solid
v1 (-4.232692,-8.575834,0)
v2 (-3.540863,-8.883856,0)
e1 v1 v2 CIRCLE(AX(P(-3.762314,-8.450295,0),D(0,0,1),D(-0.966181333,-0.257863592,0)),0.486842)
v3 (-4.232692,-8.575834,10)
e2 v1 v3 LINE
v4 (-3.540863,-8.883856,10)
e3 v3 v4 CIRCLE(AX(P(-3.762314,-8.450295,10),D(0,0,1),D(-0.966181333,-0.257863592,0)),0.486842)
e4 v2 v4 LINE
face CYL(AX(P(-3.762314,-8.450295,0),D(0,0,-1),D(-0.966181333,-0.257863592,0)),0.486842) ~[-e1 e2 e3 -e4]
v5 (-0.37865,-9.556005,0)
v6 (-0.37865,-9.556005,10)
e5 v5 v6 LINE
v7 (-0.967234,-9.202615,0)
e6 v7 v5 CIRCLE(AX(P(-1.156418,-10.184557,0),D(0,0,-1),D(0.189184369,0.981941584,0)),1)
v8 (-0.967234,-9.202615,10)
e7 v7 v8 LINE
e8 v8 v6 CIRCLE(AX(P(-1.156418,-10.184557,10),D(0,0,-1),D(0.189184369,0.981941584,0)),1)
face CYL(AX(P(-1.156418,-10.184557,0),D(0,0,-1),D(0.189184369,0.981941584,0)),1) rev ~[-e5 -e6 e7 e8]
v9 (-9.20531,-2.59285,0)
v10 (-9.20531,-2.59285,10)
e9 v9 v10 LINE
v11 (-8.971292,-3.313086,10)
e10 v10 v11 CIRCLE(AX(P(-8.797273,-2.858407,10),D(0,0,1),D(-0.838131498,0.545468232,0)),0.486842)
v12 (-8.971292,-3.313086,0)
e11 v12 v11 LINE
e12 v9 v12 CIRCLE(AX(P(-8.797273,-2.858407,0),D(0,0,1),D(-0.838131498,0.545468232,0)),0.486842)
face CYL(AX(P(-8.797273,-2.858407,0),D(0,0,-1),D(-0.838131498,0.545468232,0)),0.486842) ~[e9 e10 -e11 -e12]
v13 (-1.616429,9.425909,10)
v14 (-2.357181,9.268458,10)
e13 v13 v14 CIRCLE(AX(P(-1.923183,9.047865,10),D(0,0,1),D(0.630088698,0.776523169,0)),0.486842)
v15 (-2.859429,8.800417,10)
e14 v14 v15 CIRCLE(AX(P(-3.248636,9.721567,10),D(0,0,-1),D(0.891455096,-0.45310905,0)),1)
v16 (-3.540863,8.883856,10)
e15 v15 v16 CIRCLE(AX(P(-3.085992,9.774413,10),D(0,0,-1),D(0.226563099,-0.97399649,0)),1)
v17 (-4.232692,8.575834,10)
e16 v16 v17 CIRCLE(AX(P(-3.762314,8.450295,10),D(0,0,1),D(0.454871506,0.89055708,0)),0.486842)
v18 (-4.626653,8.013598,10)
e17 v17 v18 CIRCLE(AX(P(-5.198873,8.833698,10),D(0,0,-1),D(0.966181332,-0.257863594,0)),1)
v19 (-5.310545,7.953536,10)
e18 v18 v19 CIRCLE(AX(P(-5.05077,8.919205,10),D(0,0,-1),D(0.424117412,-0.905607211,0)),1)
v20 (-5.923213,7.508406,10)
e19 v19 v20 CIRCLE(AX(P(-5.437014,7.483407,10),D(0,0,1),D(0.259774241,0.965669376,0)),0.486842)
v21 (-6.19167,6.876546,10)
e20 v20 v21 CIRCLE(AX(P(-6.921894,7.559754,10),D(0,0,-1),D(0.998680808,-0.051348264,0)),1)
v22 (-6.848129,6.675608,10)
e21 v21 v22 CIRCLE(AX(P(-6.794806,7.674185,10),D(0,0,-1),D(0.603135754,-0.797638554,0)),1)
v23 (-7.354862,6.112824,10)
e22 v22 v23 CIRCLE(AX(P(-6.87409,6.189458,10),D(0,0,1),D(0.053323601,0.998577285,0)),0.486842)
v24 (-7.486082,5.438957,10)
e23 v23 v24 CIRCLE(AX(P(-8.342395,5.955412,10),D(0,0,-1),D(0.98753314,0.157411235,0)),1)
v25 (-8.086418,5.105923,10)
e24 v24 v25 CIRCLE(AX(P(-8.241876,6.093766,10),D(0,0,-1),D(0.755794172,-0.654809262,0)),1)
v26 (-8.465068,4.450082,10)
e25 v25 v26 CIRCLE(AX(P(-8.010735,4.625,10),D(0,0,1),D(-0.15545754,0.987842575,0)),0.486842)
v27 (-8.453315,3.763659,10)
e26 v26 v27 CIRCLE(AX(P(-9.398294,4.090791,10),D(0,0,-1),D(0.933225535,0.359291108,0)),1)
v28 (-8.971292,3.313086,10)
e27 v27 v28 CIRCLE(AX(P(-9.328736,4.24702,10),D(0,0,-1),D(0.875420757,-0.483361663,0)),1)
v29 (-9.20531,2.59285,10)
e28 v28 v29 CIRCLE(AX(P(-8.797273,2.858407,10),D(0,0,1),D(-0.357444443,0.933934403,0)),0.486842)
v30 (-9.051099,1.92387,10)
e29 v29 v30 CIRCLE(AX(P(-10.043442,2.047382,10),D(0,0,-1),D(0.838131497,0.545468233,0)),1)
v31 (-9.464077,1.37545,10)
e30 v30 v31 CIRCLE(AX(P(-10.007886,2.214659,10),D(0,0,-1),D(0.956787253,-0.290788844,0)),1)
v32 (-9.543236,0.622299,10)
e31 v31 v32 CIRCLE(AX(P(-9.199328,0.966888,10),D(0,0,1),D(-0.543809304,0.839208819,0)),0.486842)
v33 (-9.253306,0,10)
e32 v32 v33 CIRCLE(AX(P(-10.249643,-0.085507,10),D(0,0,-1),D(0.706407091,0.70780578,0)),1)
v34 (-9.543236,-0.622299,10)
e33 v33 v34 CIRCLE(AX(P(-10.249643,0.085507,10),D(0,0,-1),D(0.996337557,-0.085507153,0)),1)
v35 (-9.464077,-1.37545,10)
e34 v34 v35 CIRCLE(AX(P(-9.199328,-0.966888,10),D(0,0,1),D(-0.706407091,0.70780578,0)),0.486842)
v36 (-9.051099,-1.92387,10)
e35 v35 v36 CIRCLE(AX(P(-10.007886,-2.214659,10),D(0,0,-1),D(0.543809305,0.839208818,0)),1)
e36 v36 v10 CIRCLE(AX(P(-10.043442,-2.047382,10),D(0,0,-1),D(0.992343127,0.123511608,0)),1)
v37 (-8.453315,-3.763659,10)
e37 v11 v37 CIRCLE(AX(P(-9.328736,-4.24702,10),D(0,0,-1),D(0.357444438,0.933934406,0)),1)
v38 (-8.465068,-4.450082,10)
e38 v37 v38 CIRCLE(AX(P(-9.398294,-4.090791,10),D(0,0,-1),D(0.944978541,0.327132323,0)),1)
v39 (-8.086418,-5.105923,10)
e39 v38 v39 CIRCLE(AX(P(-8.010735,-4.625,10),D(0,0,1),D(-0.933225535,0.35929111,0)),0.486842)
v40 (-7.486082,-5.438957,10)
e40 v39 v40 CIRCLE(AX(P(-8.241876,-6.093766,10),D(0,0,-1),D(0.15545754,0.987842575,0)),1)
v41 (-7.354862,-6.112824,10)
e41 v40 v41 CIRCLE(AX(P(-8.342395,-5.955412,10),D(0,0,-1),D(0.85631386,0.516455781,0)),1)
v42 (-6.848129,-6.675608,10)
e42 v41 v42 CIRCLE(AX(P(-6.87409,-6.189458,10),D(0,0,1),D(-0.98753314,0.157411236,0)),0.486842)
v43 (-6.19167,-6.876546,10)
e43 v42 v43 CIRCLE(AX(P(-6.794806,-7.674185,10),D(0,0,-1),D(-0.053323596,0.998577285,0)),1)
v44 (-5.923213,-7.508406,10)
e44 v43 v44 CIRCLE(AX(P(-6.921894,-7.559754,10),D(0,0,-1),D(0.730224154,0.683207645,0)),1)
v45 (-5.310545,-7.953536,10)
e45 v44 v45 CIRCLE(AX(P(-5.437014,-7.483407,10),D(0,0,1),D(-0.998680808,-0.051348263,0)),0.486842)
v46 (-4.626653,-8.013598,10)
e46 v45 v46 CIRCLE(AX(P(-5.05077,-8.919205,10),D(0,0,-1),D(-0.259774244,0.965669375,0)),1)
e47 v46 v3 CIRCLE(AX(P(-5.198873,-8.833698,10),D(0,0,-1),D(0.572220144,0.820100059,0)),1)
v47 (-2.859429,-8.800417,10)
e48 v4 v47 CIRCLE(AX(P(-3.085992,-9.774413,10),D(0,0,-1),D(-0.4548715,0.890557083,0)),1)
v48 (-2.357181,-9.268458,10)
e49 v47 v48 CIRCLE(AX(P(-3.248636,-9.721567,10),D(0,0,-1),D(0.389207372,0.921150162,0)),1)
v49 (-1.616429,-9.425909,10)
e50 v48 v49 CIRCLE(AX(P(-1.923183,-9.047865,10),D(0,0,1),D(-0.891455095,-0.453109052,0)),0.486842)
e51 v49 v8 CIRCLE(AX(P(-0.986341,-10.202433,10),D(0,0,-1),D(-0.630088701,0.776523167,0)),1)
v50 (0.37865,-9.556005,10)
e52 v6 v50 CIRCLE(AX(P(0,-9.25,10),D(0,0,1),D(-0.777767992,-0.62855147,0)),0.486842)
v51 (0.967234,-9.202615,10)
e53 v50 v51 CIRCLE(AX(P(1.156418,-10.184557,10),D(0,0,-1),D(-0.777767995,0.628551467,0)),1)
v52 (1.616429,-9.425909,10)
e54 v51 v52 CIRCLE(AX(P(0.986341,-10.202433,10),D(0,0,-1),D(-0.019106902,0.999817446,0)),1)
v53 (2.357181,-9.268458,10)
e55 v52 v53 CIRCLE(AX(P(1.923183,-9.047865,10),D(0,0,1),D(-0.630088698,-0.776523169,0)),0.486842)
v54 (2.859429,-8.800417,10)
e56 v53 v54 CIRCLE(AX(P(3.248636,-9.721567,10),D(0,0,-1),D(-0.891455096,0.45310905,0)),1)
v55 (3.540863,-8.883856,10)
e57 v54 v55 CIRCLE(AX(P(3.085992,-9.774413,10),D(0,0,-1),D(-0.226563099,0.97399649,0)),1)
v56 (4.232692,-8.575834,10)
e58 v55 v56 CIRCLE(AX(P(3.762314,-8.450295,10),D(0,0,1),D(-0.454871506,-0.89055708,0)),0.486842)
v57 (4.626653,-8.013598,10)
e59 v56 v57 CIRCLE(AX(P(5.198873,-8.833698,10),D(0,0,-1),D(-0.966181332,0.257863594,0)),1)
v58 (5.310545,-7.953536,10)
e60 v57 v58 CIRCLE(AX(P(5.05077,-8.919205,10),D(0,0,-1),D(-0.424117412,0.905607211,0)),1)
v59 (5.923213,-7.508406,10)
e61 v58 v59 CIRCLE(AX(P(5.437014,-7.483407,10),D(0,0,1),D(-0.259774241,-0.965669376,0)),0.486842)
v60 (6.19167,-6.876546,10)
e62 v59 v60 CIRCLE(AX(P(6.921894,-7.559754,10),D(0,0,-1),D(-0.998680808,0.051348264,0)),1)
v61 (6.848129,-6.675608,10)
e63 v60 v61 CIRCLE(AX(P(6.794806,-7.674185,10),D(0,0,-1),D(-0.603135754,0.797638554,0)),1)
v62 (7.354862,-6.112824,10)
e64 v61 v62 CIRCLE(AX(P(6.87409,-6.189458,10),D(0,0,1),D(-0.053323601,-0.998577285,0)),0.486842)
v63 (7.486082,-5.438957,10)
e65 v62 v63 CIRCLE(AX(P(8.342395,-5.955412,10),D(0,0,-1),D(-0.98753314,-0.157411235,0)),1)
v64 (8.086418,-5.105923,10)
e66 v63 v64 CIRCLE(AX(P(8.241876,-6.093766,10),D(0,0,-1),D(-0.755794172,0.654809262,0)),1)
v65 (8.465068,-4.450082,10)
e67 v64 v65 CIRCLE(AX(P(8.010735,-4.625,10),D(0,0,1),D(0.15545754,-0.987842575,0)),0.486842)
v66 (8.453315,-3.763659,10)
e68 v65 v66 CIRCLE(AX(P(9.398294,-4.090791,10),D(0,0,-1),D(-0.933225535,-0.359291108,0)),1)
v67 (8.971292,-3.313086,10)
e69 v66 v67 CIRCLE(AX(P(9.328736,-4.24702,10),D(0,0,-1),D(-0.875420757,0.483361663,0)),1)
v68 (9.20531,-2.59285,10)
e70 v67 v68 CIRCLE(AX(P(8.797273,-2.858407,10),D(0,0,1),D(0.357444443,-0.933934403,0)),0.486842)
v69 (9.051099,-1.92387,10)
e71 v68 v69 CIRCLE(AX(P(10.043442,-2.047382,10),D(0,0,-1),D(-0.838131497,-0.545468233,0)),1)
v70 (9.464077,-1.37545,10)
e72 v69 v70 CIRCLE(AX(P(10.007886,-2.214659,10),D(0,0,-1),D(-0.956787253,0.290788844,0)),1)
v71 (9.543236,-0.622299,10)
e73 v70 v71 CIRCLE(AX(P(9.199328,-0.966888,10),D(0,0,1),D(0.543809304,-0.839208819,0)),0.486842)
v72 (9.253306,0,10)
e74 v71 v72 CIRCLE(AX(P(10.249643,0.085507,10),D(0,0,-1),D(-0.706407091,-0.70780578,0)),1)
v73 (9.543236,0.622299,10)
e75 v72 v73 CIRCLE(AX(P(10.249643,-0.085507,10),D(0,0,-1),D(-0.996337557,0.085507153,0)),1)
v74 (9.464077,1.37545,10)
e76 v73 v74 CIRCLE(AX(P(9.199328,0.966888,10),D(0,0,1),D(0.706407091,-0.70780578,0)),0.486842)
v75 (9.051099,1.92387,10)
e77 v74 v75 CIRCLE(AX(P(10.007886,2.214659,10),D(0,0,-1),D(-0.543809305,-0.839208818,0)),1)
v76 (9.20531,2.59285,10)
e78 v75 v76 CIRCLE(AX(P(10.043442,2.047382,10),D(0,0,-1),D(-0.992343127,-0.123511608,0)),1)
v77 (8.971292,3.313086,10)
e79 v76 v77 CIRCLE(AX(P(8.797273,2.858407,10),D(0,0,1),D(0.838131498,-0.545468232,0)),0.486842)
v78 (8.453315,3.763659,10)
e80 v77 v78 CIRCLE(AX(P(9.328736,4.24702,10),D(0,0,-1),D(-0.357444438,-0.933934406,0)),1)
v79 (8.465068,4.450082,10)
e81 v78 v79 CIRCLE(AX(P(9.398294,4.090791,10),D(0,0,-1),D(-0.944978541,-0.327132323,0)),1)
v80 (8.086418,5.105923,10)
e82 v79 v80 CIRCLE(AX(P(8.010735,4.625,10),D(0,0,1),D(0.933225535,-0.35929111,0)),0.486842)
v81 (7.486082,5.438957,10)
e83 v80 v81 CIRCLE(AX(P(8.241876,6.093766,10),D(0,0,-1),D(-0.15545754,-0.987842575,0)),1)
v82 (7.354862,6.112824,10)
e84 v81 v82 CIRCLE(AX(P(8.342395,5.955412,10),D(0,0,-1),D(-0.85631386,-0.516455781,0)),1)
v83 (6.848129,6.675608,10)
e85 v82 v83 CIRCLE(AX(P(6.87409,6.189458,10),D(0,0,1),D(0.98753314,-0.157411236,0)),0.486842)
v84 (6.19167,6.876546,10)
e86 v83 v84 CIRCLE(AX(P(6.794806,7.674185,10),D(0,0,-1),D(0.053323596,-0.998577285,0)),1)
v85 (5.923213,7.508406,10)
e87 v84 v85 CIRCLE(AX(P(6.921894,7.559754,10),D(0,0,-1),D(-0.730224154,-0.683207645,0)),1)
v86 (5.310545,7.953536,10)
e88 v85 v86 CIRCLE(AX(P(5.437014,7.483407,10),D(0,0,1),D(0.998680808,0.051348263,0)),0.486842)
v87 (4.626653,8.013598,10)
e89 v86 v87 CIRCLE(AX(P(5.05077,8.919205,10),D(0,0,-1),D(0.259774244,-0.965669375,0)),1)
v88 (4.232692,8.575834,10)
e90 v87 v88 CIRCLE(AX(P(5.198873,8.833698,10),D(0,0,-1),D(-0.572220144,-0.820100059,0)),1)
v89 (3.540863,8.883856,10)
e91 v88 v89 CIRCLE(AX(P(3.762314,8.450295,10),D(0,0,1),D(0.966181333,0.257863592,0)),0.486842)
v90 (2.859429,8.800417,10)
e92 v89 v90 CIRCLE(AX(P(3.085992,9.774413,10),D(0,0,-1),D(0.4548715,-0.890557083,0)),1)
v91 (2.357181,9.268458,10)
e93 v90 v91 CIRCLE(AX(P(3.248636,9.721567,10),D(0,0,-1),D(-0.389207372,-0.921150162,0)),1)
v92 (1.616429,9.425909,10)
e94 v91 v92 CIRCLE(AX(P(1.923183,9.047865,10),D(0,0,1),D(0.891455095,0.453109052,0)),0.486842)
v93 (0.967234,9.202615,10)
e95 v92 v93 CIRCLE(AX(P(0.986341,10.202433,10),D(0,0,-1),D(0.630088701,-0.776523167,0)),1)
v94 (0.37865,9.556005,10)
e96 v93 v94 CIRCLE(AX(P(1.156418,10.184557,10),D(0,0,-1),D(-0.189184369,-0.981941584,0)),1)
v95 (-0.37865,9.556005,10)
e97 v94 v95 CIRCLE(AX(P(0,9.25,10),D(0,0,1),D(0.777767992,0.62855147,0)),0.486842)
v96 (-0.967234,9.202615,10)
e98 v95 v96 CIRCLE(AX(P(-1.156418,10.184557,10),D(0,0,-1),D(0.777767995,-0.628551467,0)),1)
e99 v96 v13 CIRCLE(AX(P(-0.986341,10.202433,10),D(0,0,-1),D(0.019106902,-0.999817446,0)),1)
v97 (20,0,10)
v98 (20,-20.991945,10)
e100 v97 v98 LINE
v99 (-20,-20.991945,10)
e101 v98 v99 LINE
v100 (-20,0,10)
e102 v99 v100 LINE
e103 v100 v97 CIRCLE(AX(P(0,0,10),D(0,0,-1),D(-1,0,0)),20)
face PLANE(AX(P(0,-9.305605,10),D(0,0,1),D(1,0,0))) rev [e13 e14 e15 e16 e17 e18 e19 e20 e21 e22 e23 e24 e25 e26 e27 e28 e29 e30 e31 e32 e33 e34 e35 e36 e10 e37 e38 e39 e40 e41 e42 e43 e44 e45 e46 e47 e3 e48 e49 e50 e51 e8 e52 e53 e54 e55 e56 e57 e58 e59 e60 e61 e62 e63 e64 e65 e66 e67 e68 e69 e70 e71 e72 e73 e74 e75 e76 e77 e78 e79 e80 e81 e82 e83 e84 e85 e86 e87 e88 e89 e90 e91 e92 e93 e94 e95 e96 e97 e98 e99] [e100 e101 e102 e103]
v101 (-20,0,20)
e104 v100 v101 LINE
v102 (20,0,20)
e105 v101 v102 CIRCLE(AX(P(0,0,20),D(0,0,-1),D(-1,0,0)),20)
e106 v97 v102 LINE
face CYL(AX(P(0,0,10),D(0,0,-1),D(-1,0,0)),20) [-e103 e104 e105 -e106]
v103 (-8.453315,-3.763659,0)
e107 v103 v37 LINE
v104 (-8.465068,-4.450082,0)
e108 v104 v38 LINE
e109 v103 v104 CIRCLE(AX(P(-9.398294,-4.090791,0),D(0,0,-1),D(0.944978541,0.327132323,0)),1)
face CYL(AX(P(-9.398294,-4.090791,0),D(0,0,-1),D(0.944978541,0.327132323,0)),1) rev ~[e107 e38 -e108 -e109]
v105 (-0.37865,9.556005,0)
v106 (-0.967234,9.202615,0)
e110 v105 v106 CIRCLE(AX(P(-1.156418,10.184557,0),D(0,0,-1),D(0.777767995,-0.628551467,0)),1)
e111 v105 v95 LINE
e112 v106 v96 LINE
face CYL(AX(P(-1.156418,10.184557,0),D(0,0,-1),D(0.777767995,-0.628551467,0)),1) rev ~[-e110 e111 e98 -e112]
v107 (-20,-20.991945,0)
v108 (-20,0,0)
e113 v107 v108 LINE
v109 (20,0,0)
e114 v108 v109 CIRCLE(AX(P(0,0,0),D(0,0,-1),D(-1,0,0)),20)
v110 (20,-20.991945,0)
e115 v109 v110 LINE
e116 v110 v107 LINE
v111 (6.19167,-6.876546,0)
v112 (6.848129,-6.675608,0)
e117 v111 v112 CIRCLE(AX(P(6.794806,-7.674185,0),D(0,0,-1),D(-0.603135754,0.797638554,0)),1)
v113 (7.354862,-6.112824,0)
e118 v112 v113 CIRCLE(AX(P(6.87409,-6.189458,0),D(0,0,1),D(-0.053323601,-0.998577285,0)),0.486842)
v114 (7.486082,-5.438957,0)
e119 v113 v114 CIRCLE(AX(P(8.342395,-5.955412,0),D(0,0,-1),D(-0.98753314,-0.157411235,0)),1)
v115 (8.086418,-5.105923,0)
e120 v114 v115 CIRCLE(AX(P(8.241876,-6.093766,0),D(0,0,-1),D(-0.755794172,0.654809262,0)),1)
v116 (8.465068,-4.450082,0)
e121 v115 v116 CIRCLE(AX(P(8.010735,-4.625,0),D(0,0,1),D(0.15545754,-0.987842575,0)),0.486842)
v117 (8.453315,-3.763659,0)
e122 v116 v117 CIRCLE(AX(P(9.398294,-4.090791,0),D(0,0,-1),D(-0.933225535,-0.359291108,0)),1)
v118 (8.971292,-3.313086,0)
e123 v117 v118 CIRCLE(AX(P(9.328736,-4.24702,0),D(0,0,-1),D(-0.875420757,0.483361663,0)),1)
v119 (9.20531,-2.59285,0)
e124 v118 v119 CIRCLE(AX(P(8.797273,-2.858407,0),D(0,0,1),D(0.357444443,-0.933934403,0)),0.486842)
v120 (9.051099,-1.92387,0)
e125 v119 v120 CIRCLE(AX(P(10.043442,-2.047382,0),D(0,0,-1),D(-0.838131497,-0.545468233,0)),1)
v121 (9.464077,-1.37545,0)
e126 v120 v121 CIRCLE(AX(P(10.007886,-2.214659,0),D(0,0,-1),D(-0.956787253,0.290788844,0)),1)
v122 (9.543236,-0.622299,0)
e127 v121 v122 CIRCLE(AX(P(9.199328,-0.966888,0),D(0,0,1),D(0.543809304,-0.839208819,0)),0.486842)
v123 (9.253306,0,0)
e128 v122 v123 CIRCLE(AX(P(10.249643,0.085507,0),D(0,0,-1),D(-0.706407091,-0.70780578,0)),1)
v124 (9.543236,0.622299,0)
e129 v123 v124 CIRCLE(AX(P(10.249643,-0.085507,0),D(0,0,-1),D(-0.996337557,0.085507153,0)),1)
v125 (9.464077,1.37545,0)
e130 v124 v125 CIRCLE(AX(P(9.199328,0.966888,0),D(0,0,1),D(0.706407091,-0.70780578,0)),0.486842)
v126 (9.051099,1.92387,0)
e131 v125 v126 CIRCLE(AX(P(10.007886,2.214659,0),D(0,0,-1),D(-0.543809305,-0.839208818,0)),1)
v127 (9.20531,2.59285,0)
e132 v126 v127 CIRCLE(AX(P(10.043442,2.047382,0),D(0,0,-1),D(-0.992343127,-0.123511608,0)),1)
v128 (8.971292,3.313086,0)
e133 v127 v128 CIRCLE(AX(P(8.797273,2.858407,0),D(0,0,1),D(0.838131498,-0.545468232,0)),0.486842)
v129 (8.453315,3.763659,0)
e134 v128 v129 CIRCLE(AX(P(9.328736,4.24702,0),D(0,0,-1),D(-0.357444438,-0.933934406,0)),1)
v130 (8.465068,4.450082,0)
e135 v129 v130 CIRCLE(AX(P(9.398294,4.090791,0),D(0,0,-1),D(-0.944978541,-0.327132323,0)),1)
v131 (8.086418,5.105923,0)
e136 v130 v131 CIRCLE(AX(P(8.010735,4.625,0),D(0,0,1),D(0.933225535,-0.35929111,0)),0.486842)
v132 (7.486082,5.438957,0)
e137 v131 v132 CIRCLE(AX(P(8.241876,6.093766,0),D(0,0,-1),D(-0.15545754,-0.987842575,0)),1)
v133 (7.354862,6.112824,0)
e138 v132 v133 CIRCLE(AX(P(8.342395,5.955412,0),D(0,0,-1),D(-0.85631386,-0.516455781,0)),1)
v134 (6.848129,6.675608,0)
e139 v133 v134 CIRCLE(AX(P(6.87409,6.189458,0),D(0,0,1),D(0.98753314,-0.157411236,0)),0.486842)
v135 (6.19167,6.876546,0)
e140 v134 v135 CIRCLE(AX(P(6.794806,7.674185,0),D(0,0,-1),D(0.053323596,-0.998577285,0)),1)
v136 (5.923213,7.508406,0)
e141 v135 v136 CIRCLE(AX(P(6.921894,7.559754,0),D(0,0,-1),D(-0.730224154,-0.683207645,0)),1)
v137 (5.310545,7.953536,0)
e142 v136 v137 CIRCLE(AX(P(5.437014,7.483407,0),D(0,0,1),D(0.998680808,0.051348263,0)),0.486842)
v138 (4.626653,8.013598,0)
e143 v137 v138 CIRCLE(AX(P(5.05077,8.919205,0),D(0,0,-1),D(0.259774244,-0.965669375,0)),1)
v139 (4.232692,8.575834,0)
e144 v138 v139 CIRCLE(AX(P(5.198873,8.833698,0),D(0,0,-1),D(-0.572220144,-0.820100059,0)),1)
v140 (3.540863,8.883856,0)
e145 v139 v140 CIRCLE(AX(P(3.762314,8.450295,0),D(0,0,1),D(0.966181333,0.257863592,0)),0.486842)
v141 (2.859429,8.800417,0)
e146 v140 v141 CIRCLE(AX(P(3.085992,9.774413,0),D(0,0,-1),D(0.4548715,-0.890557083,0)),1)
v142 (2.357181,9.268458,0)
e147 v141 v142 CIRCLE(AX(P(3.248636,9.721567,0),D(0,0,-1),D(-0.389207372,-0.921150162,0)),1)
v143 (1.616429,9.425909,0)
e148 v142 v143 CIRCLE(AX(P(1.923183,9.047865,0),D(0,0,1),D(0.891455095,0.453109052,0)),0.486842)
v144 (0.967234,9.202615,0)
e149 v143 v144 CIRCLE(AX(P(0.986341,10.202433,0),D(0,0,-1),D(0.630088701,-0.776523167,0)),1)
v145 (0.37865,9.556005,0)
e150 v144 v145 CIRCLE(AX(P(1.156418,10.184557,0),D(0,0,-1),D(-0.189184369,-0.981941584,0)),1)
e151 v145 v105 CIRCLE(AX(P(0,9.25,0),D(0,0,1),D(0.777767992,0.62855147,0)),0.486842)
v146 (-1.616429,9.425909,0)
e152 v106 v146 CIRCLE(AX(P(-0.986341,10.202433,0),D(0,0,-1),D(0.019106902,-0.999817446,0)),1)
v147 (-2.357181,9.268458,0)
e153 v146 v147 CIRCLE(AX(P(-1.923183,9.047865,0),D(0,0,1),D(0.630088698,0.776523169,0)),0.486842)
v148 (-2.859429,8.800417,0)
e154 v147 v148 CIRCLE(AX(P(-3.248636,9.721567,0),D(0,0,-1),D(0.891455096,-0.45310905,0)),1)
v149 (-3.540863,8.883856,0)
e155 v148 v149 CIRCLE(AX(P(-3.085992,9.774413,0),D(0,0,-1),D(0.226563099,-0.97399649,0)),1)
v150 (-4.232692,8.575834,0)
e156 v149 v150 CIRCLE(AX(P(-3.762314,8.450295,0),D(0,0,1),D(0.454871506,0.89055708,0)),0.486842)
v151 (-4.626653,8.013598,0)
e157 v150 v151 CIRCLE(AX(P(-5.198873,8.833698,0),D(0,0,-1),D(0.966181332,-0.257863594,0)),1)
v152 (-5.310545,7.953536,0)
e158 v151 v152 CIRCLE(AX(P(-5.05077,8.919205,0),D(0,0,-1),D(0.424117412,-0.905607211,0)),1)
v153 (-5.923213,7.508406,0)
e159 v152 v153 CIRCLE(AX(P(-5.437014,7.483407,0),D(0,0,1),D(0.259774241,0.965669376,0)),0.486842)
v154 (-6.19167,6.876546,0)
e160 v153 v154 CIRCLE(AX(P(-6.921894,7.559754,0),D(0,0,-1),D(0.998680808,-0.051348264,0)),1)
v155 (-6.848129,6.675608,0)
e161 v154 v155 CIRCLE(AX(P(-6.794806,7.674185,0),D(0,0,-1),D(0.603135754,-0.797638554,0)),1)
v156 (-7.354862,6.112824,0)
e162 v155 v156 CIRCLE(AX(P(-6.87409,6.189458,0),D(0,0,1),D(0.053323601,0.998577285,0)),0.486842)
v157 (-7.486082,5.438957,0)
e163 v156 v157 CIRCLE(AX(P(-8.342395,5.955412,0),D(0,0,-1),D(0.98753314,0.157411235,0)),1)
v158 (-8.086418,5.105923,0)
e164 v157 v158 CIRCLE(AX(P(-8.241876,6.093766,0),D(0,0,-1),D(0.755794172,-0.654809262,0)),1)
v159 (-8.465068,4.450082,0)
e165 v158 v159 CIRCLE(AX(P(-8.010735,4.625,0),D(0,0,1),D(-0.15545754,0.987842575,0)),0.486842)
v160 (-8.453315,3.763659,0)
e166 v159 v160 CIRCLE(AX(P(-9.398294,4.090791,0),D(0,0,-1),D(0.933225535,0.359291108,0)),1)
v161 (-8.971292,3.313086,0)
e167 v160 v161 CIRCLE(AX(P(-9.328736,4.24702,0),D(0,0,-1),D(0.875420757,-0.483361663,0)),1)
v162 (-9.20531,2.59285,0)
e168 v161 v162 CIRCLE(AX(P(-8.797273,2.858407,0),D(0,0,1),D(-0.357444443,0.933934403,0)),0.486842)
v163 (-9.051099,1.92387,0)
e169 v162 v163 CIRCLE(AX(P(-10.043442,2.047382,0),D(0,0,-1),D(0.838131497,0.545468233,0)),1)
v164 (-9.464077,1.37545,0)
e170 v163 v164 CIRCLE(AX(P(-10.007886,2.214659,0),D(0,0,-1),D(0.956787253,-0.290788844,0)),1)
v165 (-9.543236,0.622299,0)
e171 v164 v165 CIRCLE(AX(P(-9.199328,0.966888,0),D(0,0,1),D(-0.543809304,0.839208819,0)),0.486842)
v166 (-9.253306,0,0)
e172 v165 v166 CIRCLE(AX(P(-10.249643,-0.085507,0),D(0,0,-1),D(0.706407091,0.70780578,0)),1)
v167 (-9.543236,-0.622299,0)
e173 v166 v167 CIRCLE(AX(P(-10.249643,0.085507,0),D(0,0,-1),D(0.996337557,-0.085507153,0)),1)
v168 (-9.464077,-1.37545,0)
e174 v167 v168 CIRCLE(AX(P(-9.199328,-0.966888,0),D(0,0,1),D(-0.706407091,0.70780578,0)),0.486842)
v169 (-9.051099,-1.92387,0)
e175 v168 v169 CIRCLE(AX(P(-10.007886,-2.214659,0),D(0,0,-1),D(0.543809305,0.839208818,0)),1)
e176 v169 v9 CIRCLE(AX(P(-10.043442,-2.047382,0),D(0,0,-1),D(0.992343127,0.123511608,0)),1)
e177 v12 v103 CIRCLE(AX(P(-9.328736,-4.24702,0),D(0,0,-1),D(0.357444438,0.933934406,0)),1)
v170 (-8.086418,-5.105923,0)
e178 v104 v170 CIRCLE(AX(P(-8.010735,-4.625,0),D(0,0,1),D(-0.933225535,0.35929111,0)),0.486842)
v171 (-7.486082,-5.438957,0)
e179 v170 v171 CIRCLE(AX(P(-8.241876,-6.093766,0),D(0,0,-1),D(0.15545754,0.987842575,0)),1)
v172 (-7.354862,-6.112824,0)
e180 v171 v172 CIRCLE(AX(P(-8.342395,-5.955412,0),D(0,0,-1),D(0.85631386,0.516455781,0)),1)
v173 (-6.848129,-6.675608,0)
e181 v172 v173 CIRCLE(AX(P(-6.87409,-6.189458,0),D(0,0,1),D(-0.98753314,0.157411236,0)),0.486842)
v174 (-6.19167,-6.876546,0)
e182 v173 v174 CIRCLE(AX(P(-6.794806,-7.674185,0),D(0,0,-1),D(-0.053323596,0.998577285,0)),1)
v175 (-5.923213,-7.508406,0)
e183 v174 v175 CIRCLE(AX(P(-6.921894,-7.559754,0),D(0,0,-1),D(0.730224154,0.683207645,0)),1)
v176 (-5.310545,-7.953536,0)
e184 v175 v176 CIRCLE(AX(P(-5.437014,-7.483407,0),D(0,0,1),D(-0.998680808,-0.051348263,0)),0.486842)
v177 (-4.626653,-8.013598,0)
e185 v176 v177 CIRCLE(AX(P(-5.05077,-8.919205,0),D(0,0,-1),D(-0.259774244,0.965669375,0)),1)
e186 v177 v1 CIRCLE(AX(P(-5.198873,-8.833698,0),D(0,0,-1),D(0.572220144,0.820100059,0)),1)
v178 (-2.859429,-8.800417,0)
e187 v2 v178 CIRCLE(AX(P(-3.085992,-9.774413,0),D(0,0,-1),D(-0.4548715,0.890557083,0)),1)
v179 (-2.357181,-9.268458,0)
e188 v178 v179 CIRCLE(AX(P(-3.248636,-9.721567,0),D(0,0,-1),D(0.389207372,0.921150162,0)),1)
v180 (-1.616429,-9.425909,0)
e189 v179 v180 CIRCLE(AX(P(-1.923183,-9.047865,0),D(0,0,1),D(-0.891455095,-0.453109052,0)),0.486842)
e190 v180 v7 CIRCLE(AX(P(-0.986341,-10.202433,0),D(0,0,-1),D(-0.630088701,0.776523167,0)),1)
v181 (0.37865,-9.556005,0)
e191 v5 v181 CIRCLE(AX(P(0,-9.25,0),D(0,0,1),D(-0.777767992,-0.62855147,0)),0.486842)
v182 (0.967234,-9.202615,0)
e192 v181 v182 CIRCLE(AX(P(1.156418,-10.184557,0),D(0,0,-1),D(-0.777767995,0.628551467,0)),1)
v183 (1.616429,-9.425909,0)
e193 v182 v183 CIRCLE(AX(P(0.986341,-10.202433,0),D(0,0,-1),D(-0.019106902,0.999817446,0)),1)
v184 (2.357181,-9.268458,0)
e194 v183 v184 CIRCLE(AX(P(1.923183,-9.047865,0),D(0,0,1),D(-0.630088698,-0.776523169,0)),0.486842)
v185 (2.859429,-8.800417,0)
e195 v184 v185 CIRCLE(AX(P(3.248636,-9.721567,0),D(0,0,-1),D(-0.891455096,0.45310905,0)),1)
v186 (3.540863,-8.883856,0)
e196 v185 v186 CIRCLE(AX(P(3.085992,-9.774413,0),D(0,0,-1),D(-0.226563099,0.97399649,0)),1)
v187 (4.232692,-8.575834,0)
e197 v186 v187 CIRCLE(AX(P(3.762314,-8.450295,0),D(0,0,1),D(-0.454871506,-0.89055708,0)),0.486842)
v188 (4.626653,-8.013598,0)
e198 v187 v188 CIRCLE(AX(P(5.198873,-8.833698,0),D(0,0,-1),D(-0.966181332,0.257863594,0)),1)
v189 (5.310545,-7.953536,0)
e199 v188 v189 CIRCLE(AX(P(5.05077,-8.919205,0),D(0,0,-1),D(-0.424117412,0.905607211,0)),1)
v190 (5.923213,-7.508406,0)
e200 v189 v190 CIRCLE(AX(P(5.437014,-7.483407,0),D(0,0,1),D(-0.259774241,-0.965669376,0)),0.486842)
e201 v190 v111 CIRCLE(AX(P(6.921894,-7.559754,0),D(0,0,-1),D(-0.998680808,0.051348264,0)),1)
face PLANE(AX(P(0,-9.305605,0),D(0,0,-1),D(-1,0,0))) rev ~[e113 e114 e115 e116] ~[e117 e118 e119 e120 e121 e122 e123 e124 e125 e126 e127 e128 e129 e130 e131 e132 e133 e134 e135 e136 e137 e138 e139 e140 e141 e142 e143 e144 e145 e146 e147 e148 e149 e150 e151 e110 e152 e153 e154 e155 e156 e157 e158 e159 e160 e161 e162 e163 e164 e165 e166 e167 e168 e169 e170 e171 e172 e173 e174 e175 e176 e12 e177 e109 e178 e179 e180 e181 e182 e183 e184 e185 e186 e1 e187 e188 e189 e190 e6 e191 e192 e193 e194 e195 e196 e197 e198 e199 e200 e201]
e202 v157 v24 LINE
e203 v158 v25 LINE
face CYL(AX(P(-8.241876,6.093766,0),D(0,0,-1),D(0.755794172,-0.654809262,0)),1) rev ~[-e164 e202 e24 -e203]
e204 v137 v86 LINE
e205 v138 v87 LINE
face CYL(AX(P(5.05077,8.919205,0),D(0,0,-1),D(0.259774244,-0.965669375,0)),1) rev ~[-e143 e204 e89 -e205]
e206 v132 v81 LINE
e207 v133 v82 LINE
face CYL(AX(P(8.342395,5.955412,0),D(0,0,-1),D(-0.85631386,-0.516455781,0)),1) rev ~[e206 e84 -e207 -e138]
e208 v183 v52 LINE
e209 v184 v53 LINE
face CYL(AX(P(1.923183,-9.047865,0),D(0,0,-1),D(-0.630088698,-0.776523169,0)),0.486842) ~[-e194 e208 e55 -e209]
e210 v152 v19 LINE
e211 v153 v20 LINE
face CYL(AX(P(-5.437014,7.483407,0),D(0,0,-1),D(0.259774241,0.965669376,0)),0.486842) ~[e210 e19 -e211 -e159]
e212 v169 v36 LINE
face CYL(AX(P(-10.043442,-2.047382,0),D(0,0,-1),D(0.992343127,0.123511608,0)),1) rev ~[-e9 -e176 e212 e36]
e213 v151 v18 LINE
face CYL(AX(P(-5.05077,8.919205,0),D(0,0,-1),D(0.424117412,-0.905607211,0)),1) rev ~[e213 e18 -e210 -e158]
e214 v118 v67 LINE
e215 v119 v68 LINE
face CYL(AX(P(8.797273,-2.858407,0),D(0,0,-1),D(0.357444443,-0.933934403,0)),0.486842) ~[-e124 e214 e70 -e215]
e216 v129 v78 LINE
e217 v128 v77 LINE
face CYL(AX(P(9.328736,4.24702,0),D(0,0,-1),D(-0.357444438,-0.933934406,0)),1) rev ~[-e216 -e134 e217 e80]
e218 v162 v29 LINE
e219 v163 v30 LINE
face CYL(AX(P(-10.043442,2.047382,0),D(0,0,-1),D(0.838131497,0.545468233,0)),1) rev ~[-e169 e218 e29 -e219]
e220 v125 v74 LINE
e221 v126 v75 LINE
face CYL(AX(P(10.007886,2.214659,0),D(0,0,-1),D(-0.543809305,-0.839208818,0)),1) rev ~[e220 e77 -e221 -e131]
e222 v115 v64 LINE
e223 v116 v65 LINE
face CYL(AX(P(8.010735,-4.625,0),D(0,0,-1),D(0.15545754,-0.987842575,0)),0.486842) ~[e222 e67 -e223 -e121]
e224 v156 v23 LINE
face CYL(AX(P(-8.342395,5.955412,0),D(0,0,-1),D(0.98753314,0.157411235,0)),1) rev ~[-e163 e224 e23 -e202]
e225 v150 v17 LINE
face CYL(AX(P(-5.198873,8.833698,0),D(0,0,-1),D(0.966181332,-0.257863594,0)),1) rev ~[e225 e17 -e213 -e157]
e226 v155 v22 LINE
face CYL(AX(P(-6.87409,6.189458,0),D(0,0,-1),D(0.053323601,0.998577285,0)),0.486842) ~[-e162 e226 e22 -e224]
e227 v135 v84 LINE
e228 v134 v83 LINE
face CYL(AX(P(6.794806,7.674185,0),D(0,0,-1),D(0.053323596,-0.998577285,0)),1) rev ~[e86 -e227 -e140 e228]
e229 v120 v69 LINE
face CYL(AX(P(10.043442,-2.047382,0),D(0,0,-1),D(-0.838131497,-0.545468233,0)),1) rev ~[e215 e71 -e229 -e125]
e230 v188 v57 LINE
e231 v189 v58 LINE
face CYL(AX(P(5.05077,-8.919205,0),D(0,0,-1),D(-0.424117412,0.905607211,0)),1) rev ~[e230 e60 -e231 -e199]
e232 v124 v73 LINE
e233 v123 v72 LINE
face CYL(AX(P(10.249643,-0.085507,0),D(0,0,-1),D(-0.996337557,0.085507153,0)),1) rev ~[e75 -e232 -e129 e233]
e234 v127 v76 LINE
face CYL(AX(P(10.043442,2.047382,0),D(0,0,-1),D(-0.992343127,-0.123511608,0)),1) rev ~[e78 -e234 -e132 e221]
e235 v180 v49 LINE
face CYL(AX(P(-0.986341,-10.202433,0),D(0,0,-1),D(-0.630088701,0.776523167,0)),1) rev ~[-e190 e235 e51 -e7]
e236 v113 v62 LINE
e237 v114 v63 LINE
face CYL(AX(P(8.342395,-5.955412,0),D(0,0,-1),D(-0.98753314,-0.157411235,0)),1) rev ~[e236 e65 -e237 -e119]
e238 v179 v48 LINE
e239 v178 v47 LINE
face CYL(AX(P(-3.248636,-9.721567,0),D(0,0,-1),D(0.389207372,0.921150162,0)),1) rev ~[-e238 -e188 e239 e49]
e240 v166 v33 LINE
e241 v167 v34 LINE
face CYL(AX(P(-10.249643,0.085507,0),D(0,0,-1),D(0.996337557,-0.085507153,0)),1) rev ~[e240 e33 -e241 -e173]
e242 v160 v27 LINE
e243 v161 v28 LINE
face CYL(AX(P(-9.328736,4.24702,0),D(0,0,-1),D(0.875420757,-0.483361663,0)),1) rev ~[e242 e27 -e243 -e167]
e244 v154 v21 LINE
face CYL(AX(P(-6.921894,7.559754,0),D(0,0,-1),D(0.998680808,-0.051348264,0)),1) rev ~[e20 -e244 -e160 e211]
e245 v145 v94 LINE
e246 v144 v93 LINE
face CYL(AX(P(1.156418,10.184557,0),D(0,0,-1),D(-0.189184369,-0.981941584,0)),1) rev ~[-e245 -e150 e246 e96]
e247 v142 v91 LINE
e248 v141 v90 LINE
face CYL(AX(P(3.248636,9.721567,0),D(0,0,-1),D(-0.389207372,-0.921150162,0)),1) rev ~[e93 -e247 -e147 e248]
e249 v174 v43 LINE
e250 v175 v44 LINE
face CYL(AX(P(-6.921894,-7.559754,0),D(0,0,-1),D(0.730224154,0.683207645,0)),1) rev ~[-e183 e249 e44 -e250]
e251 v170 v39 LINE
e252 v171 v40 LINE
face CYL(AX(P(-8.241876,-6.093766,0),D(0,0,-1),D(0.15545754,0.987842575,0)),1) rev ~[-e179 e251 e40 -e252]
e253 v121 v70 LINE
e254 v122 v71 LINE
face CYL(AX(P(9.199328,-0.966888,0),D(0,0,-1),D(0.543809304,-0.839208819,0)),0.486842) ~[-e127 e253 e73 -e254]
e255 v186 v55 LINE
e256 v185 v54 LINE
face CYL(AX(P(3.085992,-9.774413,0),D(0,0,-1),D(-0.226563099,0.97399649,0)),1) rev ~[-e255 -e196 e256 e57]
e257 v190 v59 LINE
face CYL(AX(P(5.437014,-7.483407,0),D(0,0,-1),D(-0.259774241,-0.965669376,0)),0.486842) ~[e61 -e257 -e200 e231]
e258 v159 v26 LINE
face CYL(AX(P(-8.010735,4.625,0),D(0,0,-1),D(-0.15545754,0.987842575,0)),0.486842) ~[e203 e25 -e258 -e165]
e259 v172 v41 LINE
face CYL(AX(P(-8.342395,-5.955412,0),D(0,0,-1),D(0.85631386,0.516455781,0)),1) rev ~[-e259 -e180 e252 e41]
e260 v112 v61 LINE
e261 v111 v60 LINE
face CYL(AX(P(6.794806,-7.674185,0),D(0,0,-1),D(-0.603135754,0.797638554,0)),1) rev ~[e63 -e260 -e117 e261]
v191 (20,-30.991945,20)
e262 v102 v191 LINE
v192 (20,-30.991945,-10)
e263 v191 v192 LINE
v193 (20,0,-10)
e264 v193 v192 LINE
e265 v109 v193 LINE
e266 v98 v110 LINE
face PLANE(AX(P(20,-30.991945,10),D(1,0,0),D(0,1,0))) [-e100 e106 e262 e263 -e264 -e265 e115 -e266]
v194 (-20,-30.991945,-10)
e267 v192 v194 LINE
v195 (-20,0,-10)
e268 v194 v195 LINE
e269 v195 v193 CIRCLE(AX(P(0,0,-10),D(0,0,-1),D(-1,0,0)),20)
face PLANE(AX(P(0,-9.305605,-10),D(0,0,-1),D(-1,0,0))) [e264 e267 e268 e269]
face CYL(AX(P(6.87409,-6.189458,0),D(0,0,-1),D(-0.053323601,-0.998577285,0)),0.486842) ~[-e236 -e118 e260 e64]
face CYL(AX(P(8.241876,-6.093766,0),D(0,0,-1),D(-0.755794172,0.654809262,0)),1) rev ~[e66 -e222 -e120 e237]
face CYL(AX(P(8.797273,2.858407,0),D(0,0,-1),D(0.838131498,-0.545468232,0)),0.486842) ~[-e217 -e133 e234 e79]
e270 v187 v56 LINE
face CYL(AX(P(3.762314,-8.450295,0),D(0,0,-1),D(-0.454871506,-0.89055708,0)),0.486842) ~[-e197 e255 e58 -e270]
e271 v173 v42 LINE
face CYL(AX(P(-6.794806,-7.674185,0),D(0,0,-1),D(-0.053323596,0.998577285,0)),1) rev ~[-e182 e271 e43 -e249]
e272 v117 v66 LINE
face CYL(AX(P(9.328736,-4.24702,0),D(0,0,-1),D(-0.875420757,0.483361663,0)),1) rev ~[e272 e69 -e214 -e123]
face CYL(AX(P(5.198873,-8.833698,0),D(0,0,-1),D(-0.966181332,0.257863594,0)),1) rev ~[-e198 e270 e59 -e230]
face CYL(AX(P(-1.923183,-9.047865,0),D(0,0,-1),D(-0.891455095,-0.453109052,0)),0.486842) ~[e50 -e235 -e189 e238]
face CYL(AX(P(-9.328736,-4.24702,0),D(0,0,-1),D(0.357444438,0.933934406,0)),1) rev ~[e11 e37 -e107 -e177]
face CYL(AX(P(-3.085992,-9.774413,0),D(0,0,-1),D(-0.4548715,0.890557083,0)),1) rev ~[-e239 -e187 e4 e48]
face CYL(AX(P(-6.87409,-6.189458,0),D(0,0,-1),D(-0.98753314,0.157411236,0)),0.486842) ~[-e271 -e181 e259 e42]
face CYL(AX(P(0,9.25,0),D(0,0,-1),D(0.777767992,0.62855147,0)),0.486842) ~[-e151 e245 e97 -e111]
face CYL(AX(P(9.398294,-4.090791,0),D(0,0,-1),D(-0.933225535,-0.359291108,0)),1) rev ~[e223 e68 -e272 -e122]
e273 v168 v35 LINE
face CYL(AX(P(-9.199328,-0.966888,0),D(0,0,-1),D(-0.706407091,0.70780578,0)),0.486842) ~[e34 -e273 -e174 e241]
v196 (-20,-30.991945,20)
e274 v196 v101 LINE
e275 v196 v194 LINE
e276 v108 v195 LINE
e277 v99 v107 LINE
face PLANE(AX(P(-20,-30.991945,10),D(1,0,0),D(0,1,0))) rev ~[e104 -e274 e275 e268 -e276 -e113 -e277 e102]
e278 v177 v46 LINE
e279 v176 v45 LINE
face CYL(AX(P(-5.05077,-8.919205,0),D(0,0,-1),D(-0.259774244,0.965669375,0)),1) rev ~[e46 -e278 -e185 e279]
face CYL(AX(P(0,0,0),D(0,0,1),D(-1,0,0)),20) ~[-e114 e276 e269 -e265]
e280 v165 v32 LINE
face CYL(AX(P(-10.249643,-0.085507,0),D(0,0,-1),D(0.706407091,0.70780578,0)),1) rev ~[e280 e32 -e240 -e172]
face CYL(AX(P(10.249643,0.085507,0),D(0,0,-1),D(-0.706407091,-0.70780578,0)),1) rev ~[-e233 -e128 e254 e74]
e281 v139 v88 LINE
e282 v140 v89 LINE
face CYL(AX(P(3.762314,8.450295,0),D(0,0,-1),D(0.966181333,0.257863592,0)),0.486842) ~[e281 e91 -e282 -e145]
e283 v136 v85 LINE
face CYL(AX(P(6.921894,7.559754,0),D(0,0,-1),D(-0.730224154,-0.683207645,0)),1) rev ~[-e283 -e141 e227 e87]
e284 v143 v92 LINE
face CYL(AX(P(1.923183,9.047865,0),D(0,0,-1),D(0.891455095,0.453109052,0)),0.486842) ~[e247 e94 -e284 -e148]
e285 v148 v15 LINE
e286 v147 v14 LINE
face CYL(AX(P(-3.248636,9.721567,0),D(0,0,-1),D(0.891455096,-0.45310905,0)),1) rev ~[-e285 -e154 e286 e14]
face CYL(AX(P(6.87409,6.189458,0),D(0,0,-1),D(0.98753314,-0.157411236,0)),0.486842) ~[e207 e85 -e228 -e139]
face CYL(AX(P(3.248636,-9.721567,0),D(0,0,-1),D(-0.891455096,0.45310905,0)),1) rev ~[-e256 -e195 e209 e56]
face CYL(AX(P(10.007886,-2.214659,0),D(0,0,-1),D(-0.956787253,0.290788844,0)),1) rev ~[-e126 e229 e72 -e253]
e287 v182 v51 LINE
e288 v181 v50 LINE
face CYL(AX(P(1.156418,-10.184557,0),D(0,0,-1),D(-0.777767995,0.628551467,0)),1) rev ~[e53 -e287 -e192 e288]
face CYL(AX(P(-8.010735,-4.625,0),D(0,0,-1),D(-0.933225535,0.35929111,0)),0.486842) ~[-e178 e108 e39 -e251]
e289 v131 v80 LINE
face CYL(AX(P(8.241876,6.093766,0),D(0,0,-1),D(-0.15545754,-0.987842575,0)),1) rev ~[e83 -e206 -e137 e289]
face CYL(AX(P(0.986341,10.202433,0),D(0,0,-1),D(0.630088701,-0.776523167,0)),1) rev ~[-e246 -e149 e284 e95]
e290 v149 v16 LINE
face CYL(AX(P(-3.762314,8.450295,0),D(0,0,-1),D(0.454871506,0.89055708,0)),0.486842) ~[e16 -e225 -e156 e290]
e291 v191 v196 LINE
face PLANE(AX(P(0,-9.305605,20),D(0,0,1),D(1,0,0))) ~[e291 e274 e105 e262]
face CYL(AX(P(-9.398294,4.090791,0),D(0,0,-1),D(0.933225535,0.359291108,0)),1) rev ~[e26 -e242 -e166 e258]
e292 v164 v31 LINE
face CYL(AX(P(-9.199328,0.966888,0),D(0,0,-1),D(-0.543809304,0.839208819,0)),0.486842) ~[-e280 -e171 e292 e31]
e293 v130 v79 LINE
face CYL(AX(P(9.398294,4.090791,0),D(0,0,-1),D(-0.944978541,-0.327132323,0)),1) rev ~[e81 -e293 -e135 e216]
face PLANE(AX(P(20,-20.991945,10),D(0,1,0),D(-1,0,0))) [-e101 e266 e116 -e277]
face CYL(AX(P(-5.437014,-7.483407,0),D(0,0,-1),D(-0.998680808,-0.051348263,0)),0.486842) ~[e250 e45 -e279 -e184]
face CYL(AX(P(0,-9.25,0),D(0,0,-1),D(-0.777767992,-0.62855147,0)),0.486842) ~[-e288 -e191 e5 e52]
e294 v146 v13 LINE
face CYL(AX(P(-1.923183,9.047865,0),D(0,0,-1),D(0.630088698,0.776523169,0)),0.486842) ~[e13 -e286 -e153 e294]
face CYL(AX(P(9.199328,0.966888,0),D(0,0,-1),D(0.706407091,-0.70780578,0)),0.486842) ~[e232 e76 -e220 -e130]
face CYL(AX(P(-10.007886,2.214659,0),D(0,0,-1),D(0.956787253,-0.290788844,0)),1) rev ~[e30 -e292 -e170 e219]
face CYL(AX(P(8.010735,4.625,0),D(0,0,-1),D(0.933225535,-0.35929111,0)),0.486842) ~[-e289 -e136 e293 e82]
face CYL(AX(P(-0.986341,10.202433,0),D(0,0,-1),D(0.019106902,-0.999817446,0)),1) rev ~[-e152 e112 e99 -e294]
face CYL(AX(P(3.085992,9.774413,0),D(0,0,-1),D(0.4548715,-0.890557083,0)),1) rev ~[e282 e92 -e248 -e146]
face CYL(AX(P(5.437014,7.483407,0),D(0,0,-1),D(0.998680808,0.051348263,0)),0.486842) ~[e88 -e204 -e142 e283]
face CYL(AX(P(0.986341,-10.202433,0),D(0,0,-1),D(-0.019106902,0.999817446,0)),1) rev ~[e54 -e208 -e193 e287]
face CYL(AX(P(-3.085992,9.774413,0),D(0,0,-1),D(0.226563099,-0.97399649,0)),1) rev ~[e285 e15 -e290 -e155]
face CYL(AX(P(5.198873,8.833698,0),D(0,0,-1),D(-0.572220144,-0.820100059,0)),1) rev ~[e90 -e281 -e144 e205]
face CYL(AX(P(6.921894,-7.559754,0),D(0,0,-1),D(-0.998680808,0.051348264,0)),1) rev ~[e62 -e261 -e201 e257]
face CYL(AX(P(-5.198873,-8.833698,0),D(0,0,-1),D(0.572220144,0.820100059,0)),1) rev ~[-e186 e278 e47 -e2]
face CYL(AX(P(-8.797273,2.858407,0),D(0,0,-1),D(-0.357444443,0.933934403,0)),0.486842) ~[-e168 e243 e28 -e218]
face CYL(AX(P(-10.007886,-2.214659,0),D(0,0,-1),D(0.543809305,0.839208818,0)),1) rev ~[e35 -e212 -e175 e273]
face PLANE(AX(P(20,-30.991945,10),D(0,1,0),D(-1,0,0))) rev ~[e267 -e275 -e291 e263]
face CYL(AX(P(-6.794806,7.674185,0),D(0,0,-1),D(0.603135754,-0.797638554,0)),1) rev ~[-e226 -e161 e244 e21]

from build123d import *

# Parameters (mm, degrees)
BOSS_EXTRUDE1_DEPTH = 10
BOSS_EXTRUDE2_DEPTH = 10
SKETCH3_W           = 40
SKETCH3_H           = 10
BOSS_EXTRUDE3_DEPTH = 10


with BuildPart() as part:
    # Sketch1 → Boss-Extrude1 (new body)
    with BuildSketch(Plane.XY):
        with BuildLine():
            ThreePointArc((0.378650208, 9.55600532), (0, 9.736842105), (-0.378650208, 9.55600532))
            ThreePointArc((-0.378650208, 9.55600532), (-0.641665483, 9.327218092), (-0.967233833, 9.202615203))
            ThreePointArc((-0.967233833, 9.202615203), (-1.311594131, 9.256805753), (-1.616429431, 9.425909481))
            ThreePointArc((-1.616429431, 9.425909481), (-2.024403305, 9.524068744), (-2.357181016, 9.268457871))
            ThreePointArc((-2.357181016, 9.268457871), (-2.566881237, 8.989986242), (-2.85942874, 8.800416759))
            ThreePointArc((-2.85942874, 8.800416759), (-3.207530788, 8.781826585), (-3.540863348, 8.883856167))
            ThreePointArc((-3.540863348, 8.883856167), (-3.960330472, 8.895047877), (-4.232691702, 8.575834338))
            ThreePointArc((-4.232691702, 8.575834338), (-4.379911963, 8.259848855), (-4.62665289, 8.013597874))
            ThreePointArc((-4.62665289, 8.013597874), (-4.963282959, 7.923039454), (-5.310544545, 7.95353571))
            ThreePointArc((-5.310544545, 7.95353571), (-5.723172193, 7.877270735), (-5.923213451, 7.508405694))
            ThreePointArc((-5.923213451, 7.508405694), (-6.00151952, 7.168716439), (-6.191670107, 6.876546309))
            ThreePointArc((-6.191670107, 6.876546309), (-6.502115847, 6.717977481), (-6.848129462, 6.675607576))
            ThreePointArc((-6.848129462, 6.675607576), (-7.235883827, 6.515219062), (-7.354862349, 6.112823691))
            ThreePointArc((-7.354862349, 6.112823691), (-7.360831875, 5.764276714), (-7.48608163, 5.438956672))
            ThreePointArc((-7.48608163, 5.438956672), (-7.756775072, 5.219307655), (-8.086418262, 5.105923359))
            ThreePointArc((-8.086418262, 5.105923359), (-8.432352616, 4.868421053), (-8.465068469, 4.450081961))
            ThreePointArc((-8.465068469, 4.450081961), (-8.398440555, 4.107910437), (-8.453315463, 3.76365853))
            ThreePointArc((-8.453315463, 3.76365853), (-8.672426006, 3.492529039), (-8.97129178, 3.31308579))
            ThreePointArc((-8.97129178, 3.31308579), (-9.260287132, 3.008849682), (-9.205310478, 2.592850295))
            ThreePointArc((-9.205310478, 2.592850295), (-9.068997084, 2.272008762), (-9.051098847, 1.92387045))
            ThreePointArc((-9.051098847, 1.92387045), (-9.209050308, 1.613110146), (-9.464076798, 1.375450473))
            ThreePointArc((-9.464076798, 1.375450473), (-9.683502665, 1.017777142), (-9.543236247, 0.622298629))
            ThreePointArc((-9.543236247, 0.622298629), (-9.343194922, 0.336809401), (-9.25330578, 0))
            ThreePointArc((-9.25330578, 0), (-9.343194922, -0.336809401), (-9.543236247, -0.622298629))
            ThreePointArc((-9.543236247, -0.622298629), (-9.683502665, -1.017777142), (-9.464076798, -1.375450473))
            ThreePointArc((-9.464076798, -1.375450473), (-9.209050308, -1.613110146), (-9.051098847, -1.92387045))
            ThreePointArc((-9.051098847, -1.92387045), (-9.068997084, -2.272008762), (-9.205310478, -2.592850295))
            ThreePointArc((-9.205310478, -2.592850295), (-9.260287132, -3.008849682), (-8.97129178, -3.31308579))
            ThreePointArc((-8.97129178, -3.31308579), (-8.672426006, -3.492529039), (-8.453315463, -3.76365853))
            ThreePointArc((-8.453315463, -3.76365853), (-8.398440555, -4.107910437), (-8.465068469, -4.450081961))
            ThreePointArc((-8.465068469, -4.450081961), (-8.432352616, -4.868421053), (-8.086418262, -5.105923359))
            ThreePointArc((-8.086418262, -5.105923359), (-7.756775072, -5.219307655), (-7.48608163, -5.438956672))
            ThreePointArc((-7.48608163, -5.438956672), (-7.360831875, -5.764276714), (-7.354862349, -6.112823691))
            ThreePointArc((-7.354862349, -6.112823691), (-7.235883827, -6.515219062), (-6.848129462, -6.675607576))
            ThreePointArc((-6.848129462, -6.675607576), (-6.502115847, -6.717977481), (-6.191670107, -6.876546309))
            ThreePointArc((-6.191670107, -6.876546309), (-6.00151952, -7.168716439), (-5.923213451, -7.508405694))
            ThreePointArc((-5.923213451, -7.508405694), (-5.723172193, -7.877270735), (-5.310544545, -7.95353571))
            ThreePointArc((-5.310544545, -7.95353571), (-4.963282959, -7.923039454), (-4.62665289, -8.013597874))
            ThreePointArc((-4.62665289, -8.013597874), (-4.379911963, -8.259848855), (-4.232691702, -8.575834338))
            ThreePointArc((-4.232691702, -8.575834338), (-3.960330472, -8.895047877), (-3.540863348, -8.883856167))
            ThreePointArc((-3.540863348, -8.883856167), (-3.207530788, -8.781826585), (-2.85942874, -8.800416759))
            ThreePointArc((-2.85942874, -8.800416759), (-2.566881237, -8.989986242), (-2.357181016, -9.268457871))
            ThreePointArc((-2.357181016, -9.268457871), (-2.024403305, -9.524068744), (-1.616429431, -9.425909481))
            ThreePointArc((-1.616429431, -9.425909481), (-1.311594131, -9.256805753), (-0.967233833, -9.202615203))
            ThreePointArc((-0.967233833, -9.202615203), (-0.641665483, -9.327218092), (-0.378650208, -9.55600532))
            ThreePointArc((-0.378650208, -9.55600532), (0, -9.736842105), (0.378650208, -9.55600532))
            ThreePointArc((0.378650208, -9.55600532), (0.641665483, -9.327218092), (0.967233833, -9.202615203))
            ThreePointArc((0.967233833, -9.202615203), (1.311594131, -9.256805753), (1.616429431, -9.425909481))
            ThreePointArc((1.616429431, -9.425909481), (2.024403305, -9.524068744), (2.357181016, -9.268457871))
            ThreePointArc((2.357181016, -9.268457871), (2.566881237, -8.989986242), (2.85942874, -8.800416759))
            ThreePointArc((2.85942874, -8.800416759), (3.207530788, -8.781826585), (3.540863348, -8.883856167))
            ThreePointArc((3.540863348, -8.883856167), (3.960330472, -8.895047877), (4.232691702, -8.575834338))
            ThreePointArc((4.232691702, -8.575834338), (4.379911963, -8.259848855), (4.62665289, -8.013597874))
            ThreePointArc((4.62665289, -8.013597874), (4.963282959, -7.923039454), (5.310544545, -7.95353571))
            ThreePointArc((5.310544545, -7.95353571), (5.723172193, -7.877270735), (5.923213451, -7.508405694))
            ThreePointArc((5.923213451, -7.508405694), (6.00151952, -7.168716439), (6.191670107, -6.876546309))
            ThreePointArc((6.191670107, -6.876546309), (6.502115847, -6.717977481), (6.848129462, -6.675607576))
            ThreePointArc((6.848129462, -6.675607576), (7.235883827, -6.515219062), (7.354862349, -6.112823691))
            ThreePointArc((7.354862349, -6.112823691), (7.360831875, -5.764276714), (7.48608163, -5.438956672))
            ThreePointArc((7.48608163, -5.438956672), (7.756775072, -5.219307655), (8.086418262, -5.105923359))
            ThreePointArc((8.086418262, -5.105923359), (8.432352616, -4.868421053), (8.465068469, -4.450081961))
            ThreePointArc((8.465068469, -4.450081961), (8.398440555, -4.107910437), (8.453315463, -3.76365853))
            ThreePointArc((8.453315463, -3.76365853), (8.672426006, -3.492529039), (8.97129178, -3.31308579))
            ThreePointArc((8.97129178, -3.31308579), (9.260287132, -3.008849682), (9.205310478, -2.592850295))
            ThreePointArc((9.205310478, -2.592850295), (9.068997084, -2.272008762), (9.051098847, -1.92387045))
            ThreePointArc((9.051098847, -1.92387045), (9.209050308, -1.613110146), (9.464076798, -1.375450473))
            ThreePointArc((9.464076798, -1.375450473), (9.683502665, -1.017777142), (9.543236247, -0.622298629))
            ThreePointArc((9.543236247, -0.622298629), (9.343194922, -0.336809401), (9.25330578, 0))
            ThreePointArc((9.25330578, 0), (9.343194922, 0.336809401), (9.543236247, 0.622298629))
            ThreePointArc((9.543236247, 0.622298629), (9.683502665, 1.017777142), (9.464076798, 1.375450473))
            ThreePointArc((9.464076798, 1.375450473), (9.209050308, 1.613110146), (9.051098847, 1.92387045))
            ThreePointArc((9.051098847, 1.92387045), (9.068997084, 2.272008762), (9.205310478, 2.592850295))
            ThreePointArc((9.205310478, 2.592850295), (9.260287132, 3.008849682), (8.97129178, 3.31308579))
            ThreePointArc((8.97129178, 3.31308579), (8.672426006, 3.492529039), (8.453315463, 3.76365853))
            ThreePointArc((8.453315463, 3.76365853), (8.398440555, 4.107910437), (8.465068469, 4.450081961))
            ThreePointArc((8.465068469, 4.450081961), (8.432352616, 4.868421053), (8.086418262, 5.105923359))
            ThreePointArc((8.086418262, 5.105923359), (7.756775072, 5.219307655), (7.48608163, 5.438956672))
            ThreePointArc((7.48608163, 5.438956672), (7.360831875, 5.764276714), (7.354862349, 6.112823691))
            ThreePointArc((7.354862349, 6.112823691), (7.235883827, 6.515219062), (6.848129462, 6.675607576))
            ThreePointArc((6.848129462, 6.675607576), (6.502115847, 6.717977481), (6.191670107, 6.876546309))
            ThreePointArc((6.191670107, 6.876546309), (6.00151952, 7.168716439), (5.923213451, 7.508405694))
            ThreePointArc((5.923213451, 7.508405694), (5.723172193, 7.877270735), (5.310544545, 7.95353571))
            ThreePointArc((5.310544545, 7.95353571), (4.963282959, 7.923039454), (4.62665289, 8.013597874))
            ThreePointArc((4.62665289, 8.013597874), (4.379911963, 8.259848855), (4.232691702, 8.575834338))
            ThreePointArc((4.232691702, 8.575834338), (3.960330472, 8.895047877), (3.540863348, 8.883856167))
            ThreePointArc((3.540863348, 8.883856167), (3.207530788, 8.781826585), (2.85942874, 8.800416759))
            ThreePointArc((2.85942874, 8.800416759), (2.566881237, 8.989986242), (2.357181016, 9.268457871))
            ThreePointArc((2.357181016, 9.268457871), (2.024403305, 9.524068744), (1.616429431, 9.425909481))
            ThreePointArc((1.616429431, 9.425909481), (1.311594131, 9.256805753), (0.967233833, 9.202615203))
            ThreePointArc((0.967233833, 9.202615203), (0.641665483, 9.327218092), (0.378650208, 9.55600532))
        make_face()
    extrude(amount=BOSS_EXTRUDE1_DEPTH)

    # Sketch2 → Boss-Extrude2 (add)
    with BuildSketch(Plane(origin=(0, 0, 0), x_dir=(-1, 0, 0), z_dir=(0, 0, -1))):
        with BuildLine():
            Line((-20, 0), (-20, -30.991945279))
            Line((-20, -30.991945279), (20, -30.991945279))
            Line((20, -30.991945279), (20, 0))
            ThreePointArc((20, 0), (0, 20), (-20, 0))
        make_face()
    boss_extrude2 = extrude(amount=BOSS_EXTRUDE2_DEPTH)

    # Mirror2: Boss-Extrude2 across plane
    add(boss_extrude2.mirror(Plane.XY.offset(5)))

    # Sketch3 → Boss-Extrude3 (add)
    with BuildSketch(Plane(origin=(0, 0, 10), x_dir=(-1, 0, 0), z_dir=(0, 0, -1))):
        with Locations((0, -25.991945279)):
            Rectangle(SKETCH3_W, SKETCH3_H)
    extrude(amount=BOSS_EXTRUDE3_DEPTH)


solid = part.part
